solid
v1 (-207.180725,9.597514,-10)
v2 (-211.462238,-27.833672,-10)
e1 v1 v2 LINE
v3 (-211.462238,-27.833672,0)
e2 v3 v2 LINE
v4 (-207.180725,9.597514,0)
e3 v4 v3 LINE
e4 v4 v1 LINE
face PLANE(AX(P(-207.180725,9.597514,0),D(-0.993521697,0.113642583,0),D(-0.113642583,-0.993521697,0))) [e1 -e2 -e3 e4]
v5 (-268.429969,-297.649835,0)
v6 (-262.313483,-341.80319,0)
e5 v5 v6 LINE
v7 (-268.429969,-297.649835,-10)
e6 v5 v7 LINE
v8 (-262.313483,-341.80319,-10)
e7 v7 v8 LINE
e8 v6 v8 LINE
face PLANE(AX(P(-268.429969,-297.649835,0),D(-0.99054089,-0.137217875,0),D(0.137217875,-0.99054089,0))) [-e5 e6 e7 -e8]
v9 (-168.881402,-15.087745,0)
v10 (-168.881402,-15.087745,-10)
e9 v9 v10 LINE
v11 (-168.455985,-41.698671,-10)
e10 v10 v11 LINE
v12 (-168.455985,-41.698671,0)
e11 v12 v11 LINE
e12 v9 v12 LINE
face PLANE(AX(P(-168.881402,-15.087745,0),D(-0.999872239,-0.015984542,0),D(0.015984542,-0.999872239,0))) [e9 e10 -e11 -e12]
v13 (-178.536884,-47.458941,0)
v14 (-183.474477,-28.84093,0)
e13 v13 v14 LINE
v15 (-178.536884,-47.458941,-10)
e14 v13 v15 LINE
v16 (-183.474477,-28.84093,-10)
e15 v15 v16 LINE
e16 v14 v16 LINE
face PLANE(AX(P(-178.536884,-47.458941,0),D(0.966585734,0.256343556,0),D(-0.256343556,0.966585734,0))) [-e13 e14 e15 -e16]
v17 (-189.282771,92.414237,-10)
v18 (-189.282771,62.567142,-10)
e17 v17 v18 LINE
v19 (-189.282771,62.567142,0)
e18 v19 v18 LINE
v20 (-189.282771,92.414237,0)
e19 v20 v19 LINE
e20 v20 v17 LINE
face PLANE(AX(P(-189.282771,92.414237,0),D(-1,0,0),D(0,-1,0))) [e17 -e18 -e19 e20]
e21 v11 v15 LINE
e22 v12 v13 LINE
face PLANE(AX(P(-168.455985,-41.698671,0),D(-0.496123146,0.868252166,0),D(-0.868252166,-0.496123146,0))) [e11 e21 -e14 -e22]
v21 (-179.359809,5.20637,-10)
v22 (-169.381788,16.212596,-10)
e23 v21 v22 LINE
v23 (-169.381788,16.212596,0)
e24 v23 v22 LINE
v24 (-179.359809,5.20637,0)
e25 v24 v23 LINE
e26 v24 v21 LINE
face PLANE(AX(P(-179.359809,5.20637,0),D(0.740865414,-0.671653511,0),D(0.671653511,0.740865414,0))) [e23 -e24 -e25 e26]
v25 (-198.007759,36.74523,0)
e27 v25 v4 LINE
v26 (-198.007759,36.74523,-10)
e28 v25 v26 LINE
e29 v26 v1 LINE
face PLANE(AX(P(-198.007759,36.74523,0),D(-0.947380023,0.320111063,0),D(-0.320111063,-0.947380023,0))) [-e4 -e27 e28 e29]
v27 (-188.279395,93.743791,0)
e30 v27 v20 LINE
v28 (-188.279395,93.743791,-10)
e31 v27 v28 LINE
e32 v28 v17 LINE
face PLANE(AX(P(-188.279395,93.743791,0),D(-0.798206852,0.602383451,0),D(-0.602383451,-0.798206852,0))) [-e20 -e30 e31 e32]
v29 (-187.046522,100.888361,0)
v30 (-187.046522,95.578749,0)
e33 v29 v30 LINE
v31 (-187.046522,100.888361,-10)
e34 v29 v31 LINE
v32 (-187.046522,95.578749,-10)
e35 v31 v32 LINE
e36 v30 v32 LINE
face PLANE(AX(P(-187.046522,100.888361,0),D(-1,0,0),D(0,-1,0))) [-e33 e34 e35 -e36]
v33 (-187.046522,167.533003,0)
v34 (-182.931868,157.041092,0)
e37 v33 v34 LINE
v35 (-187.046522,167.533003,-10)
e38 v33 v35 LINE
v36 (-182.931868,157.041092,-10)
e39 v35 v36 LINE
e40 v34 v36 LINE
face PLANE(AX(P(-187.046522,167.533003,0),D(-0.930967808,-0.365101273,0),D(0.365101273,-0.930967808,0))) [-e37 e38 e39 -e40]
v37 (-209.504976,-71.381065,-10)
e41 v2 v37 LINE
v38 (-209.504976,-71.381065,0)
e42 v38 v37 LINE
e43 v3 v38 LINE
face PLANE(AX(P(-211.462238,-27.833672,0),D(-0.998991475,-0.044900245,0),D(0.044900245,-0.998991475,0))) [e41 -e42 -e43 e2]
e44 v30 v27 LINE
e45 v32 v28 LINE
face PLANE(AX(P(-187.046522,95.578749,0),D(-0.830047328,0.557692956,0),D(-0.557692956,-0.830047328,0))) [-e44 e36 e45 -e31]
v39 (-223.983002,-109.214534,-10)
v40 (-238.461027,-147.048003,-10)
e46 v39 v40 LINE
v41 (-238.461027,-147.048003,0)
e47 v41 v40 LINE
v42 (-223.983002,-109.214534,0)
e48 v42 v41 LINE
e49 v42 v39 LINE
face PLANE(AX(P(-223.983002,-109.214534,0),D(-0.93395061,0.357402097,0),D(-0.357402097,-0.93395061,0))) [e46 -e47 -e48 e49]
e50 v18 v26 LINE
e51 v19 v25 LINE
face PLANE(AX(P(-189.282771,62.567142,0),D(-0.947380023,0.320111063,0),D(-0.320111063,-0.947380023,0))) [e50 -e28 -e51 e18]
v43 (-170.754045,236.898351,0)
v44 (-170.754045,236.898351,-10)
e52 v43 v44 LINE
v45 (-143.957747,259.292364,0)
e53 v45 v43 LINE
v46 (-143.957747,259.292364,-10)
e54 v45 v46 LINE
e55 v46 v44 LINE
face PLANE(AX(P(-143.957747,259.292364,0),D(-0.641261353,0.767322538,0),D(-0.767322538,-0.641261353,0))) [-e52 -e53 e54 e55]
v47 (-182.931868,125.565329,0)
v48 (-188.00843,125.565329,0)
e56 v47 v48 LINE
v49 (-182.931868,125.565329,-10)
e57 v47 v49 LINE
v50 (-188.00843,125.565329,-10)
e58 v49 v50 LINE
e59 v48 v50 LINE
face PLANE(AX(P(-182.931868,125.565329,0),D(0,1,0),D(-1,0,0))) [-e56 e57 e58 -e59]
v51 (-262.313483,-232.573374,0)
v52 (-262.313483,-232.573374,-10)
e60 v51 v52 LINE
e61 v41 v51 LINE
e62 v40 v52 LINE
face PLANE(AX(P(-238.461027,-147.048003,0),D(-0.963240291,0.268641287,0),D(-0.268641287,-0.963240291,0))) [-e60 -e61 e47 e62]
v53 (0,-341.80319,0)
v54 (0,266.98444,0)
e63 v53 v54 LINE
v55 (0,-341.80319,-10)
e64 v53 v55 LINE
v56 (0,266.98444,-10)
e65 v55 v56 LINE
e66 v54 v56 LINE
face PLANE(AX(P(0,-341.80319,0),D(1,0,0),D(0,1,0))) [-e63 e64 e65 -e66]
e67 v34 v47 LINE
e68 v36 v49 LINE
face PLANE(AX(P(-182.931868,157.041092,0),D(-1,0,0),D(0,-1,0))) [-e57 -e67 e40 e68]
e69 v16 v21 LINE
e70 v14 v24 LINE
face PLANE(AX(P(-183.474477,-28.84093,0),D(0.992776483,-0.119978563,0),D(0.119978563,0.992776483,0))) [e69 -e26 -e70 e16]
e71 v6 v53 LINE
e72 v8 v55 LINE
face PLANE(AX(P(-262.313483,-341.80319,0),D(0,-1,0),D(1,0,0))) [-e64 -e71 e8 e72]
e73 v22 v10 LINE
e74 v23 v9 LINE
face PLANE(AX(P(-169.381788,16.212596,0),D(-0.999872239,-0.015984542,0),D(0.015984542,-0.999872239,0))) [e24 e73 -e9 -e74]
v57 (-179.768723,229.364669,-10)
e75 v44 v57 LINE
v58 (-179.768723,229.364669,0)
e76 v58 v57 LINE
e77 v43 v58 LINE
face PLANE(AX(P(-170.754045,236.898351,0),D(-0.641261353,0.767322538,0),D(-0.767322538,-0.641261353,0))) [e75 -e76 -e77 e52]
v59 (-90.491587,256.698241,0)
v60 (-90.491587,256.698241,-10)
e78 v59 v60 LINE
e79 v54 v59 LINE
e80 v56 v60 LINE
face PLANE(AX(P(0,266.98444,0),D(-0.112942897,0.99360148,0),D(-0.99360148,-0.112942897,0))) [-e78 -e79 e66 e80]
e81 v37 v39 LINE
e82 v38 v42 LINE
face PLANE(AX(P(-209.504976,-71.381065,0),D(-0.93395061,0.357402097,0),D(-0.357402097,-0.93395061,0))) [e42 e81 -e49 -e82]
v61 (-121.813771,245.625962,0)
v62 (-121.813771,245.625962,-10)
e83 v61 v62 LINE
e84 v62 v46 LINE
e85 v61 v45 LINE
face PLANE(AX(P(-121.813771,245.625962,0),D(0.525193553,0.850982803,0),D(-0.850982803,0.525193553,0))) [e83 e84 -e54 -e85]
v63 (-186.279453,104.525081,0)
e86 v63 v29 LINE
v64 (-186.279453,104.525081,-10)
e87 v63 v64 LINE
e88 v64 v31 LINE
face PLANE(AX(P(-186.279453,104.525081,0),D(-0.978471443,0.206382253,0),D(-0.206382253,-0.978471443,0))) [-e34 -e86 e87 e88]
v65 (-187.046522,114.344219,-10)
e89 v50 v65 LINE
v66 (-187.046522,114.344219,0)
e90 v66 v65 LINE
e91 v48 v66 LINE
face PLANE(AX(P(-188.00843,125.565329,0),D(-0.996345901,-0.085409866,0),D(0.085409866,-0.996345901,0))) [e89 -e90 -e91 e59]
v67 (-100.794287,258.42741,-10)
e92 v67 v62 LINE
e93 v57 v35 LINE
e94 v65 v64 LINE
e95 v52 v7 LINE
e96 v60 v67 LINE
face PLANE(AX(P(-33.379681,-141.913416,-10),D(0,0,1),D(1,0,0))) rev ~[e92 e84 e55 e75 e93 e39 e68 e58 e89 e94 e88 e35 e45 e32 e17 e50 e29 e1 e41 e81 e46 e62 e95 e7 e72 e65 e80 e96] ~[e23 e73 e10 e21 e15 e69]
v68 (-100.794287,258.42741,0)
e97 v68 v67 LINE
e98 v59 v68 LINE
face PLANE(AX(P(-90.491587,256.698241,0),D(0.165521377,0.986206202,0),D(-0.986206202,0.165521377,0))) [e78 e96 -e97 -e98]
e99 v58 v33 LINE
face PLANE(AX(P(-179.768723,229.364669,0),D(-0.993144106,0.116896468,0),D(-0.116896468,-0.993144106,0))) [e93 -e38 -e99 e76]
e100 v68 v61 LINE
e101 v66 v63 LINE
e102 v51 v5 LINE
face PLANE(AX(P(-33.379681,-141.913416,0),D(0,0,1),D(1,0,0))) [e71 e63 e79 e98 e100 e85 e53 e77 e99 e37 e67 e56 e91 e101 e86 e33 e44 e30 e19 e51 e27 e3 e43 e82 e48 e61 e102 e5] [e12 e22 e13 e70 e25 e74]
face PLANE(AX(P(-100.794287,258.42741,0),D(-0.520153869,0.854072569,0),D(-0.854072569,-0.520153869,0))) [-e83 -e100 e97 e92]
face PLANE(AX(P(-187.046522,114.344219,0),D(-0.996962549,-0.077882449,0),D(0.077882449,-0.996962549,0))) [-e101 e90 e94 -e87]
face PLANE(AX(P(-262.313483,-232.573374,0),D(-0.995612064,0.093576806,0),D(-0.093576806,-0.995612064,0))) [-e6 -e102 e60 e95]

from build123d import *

# Parameters (mm, degrees)
F1_DEPTH = 10


with BuildPart() as f1:
    # F0 (on Top) → F1 (new body)
    with BuildSketch(Plane.XY):
        Polygon((-9.0848000015, -110.7615454752), (-56.1383759786, -99.5413844552), (-60.5711821835, -172.3231920342), (-46.2314955784, -166.9866744318), (-31.8368203584, -161.629692804), (-12.4792818206, -185.2976312547), (-8.3274594973, -173.0151698079), align=None)
        Polygon((-46.2314955784, -166.9866744318), (-60.5711821835, -172.3231920342), (-36.5771841639, -219.3779317834), (-30.0718690254, -195.3284089729), align=None)
        Polygon((-73.3901330708, -341.8031902357), (-67.6759054309, -305.1561174487), (-117.473756471, -341.8031902357), align=None)
        Polygon((-180.8332437482, -164.6954374649), (-178.1702202991, -127.8611419204), (-191.2844337417, -85.1857664238), (-223.9830016906, -109.2145339581), (-199.4350007827, -142.6196794592), align=None)
        Polygon((-60.5711821835, -172.3231920342), (-56.1383759786, -99.5413844552), (-76.2307639896, -111.0958880131), align=None)
        with BuildLine():
            Line((0, -56.0086877966), (0, 0))
            Line((0, 0), (0, 183.04142414))
            ThreePointArc((0, 183.04142414), (-12.1429681008, 182.0306137788), (-24.2587123077, 180.7336349065))
            ThreePointArc((-24.2587123077, 180.7336349065), (-43.8384967055, 178.022818891), (-63.3002183714, 174.5648035161))
            Line((-63.3002183714, 174.5648035161), (-90.1476441557, 159.7151652456))
            Line((-90.1476441557, 159.7151652456), (-110.0777075737, 125.0936001484))
            Line((-110.0777075737, 125.0936001484), (-117.5709400449, 112.443005226))
            Line((-117.5709400449, 112.443005226), (-121.5424738016, 81.778090181))
            Line((-121.5424738016, 81.778090181), (-120.5897784893, 63.4272970351))
            Line((-120.5897784893, 63.4272970351), (-118.2717298581, 18.7771025967))
            Line((-118.2717298581, 18.7771025967), (-91.0548188771, -12.1895038479))
            Line((-91.0548188771, -12.1895038479), (-67.1898289679, -36.0534735031))
            Line((-67.1898289679, -36.0534735031), (-44.5592410741, -45.3110454311))
            Line((-44.5592410741, -45.3110454311), (0, -56.0086877966))
        make_face()
        Polygon((-219.0594424787, -207.1807143872), (-180.8332437482, -164.6954374649), (-199.4350007827, -142.6196794592), (-244.2064624437, -167.6488361397), (-244.2064624437, -235.1295594847), (-244.1253321165, -235.0393897966), align=None)
        Polygon((-69.332321625, -272.619905615), (-51.1947474372, -233.2889083715), (-91.4025763749, -247.6959746369), (-105.8642157468, -277.2303671094), (-110.9766685206, -287.2999995754), align=None)
        Polygon((-178.5368838703, -47.4589412792), (-191.2844337417, -85.1857664238), (-103.998360561, -43.181896403), (-115.1686413361, -25.682248799), (-121.2751949675, -16.1155656711), (-132.4912150412, -15.850094913), (-168.4559845523, -41.6986706085), align=None)
        Polygon((-115.2799656319, -272.619905615), (-104.626763126, -238.5452330401), (-164.9988434448, -237.3814824562), (-186.9655664085, -307.6428796384), (-147.3245982234, -288.275746156), align=None)
        Polygon((-147.3245982234, -288.275746156), (-186.9655664085, -307.6428796384), (-225.461235686, -326.9737341095), (-203.2383822965, -341.8031902357), align=None)
        Polygon((-100.8472110518, -292.6593101859), (-110.9766685206, -287.2999995754), (-138.6484816888, -341.8031902357), (-117.473756471, -341.8031902357), align=None)
        Polygon((-112.8765014321, -132.1697047954), (-103.998360561, -83.2290777974), (-178.1702202991, -127.8611419204), (-132.6259808253, -176.1945950219), align=None)
        Polygon((-178.1702202991, -127.8611419204), (-103.998360561, -83.2290777974), (-191.2844337417, -85.1857664238), align=None)
        Polygon((-90.8448589252, -184.2596719807), (-112.8765014321, -132.1697047954), (-132.6259808253, -176.1945950219), (-108.3129286229, -207.0093147384), align=None)
        Polygon((-26.3059871691, 236.8900387434), (0, 200.9310461479), (0, 266.9844396385), (-90.4915869948, 256.698241221), (-90.4915869948, 236.9089266819), (-67.691279032, 236.9089266819), (-52.4303249207, 253.3576469712), (-44.5592410741, 261.8413404297), align=None)
        Polygon((-145.4554682746, 109.5463630128), (-126.266214477, 156.0594467116), (-155.6719385674, 161.4210224536), align=None)
        Polygon((-225.461235686, -326.9737341095), (-186.9655664085, -307.6428796384), (-222.7215119105, -236.4381093161), (-268.4299686655, -297.649834803), align=None)
        Polygon((-138.6484816888, -341.8031902357), (-147.3245982234, -288.275746156), (-203.2383822965, -341.8031902357), align=None)
        Polygon((-223.9830016906, -109.2145339581), (-191.2844337417, -85.1857664238), (-178.5368838703, -47.4589412792), (-209.5049759154, -71.3810654092), align=None)
        Polygon((-132.6259808253, -176.1945950219), (-178.1702202991, -127.8611419204), (-180.8332437482, -164.6954374649), (-219.0594424787, -207.1807143872), (-162.4549610771, -232.5733737044), align=None)
        Polygon((-168.8814023684, -15.0877447128), (-168.4559845523, -41.6986706085), (-132.4912150412, -15.850094913), (-160.5595044997, 3.8948894653), align=None)
        Polygon((-126.266214477, 156.0594467116), (-91.0839805971, 200.9310461479), (-91.0839805971, 211.6955617738), (-118.1022370987, 214.7468585147), (-119.6827789183, 201.3186872483), (-122.9745003909, 180.9520327), (-160.6235661183, 180.9520327), (-164.1089604542, 184.0228917319), (-183.1327547534, 171.6665067373), (-182.9318682558, 157.0410916611), (-182.9318682558, 125.5653286399), (-167.9374396819, 116.997453287), (-161.000895729, 122.7428464239), (-145.4554682746, 109.5463630128), (-155.6719385674, 161.4210224536), align=None)
        Polygon((-128.2701594184, 162.3996241842), (-155.6719385674, 161.4210224536), (-153.9593301405, 177.0785171865), (-128.2701594184, 176.0999302288), align=None, mode=Mode.SUBTRACT)
        Polygon((-103.998360561, -83.2290777974), (-73.3901330708, -63.691398935), (-90.9000652816, -41.7426421686), (-103.998360561, -43.181896403), align=None)
        Polygon((-108.3129286229, -207.0093147384), (-132.6259808253, -176.1945950219), (-162.4549610771, -232.5733737044), align=None)
        Polygon((-76.2307639896, -111.0958880131), (-56.1383759786, -99.5413844552), (-103.998360561, -83.2290777974), (-112.8765014321, -132.1697047954), align=None)
        Polygon((-36.7759240923, -253.3689891762), (-51.1947474372, -233.2889083715), (-69.332321625, -272.619905615), align=None)
        Polygon((-91.0839805971, 200.9310461479), (-26.3059871691, 236.8900387434), (-44.5592410741, 261.8413404297), (-52.4303249207, 253.3576469712), align=None)
        Polygon((-75.1025455423, -161.4246713618), (-76.2307639896, -111.0958880131), (-112.8765014321, -132.1697047954), (-90.8448589252, -184.2596719807), align=None)
        Polygon((-199.4350007827, -142.6196794592), (-223.9830016906, -109.2145339581), (-238.4610274657, -147.048002507), (-244.2064624437, -167.6488361397), align=None)
        Polygon((-191.2844337417, -85.1857664238), (-103.998360561, -83.2290777974), (-103.998360561, -43.181896403), align=None)
        Polygon((-103.998360561, -83.2290777974), (-56.1383759786, -99.5413844552), (-73.3901330708, -63.691398935), align=None)
        Polygon((-90.1476441557, 159.7151652456), (-63.3002183714, 174.5648035161), (-91.0839805971, 200.9310461479), align=None)
        Polygon((-67.6759054309, -305.1561174487), (-100.8472110518, -292.6593101859), (-117.473756471, -341.8031902357), align=None)
        Polygon((-104.626763126, -238.5452330401), (-108.3129286229, -207.0093147384), (-162.4549610771, -232.5733737044), (-164.9988434448, -237.3814824562), align=None)
        Polygon((-91.0839805971, 200.9310461479), (-45.5419902985, 200.9310461479), (-26.3059871691, 236.8900387434), align=None)
        Polygon((-45.5419902985, 200.9310461479), (0, 200.9310461479), (-26.3059871691, 236.8900387434), align=None)
        Polygon((-105.8642157468, -277.2303671094), (-115.2799656319, -272.619905615), (-147.3245982234, -288.275746156), (-138.6484816888, -341.8031902357), (-110.9766685206, -287.2999995754), align=None)
        Polygon((-90.1476441557, 159.7151652456), (-91.0839805971, 200.9310461479), (-126.266214477, 156.0594467116), (-126.266214477, 98.2510494237), (-117.5709400449, 112.443005226), (-110.0777075737, 125.0936001484), align=None)
        Polygon((0, -280.3467120072), (-14.2974299663, -277.1022620157), (0, -326.679632709), align=None)
        Polygon((-51.1947474372, -233.2889083715), (-65.5583828964, -207.9411011242), (-91.4025763749, -247.6959746369), align=None)
        Polygon((-118.1022370987, 214.7468585147), (-91.0839805971, 211.6955617738), (-121.5343782481, 235.0574086031), (-136.7585983685, 233.4549272522), (-160.6235661183, 230.9429321907), (-160.6235661183, 200.7840914456), (-160.6235661183, 180.9520327), (-119.6827789183, 201.3186872483), align=None)
        Polygon((-162.4549610771, -232.5733737044), (-219.0594424787, -207.1807143872), (-244.1253321165, -235.0393897966), (-244.1278405297, -235.134347985), (-222.7215119105, -236.4381093161), (-164.9988434448, -237.3814824562), align=None)
        Polygon((-63.3002183714, 174.5648035161), (-45.5419902985, 200.9310461479), (-91.0839805971, 200.9310461479), align=None)
        Polygon((-56.1383759786, -99.5413844552), (-35.3859818241, -65.0423578409), (-73.3901330708, -63.691398935), align=None)
        Polygon((-186.9655664085, -307.6428796384), (-164.9988434448, -237.3814824562), (-222.7215119105, -236.4381093161), align=None)
        Polygon((-244.2064624437, -235.1295594847), (-262.3134825626, -232.5733737044), (-268.4299686655, -297.649834803), (-222.7215119105, -236.4381093161), (-244.1278405297, -235.134347985), align=None)
        Polygon((0, -175.0910735831), (0, -112.3517529746), (-9.0848000015, -110.7615454752), (-8.3274594973, -173.0151698079), (-12.4792818206, -185.2976312547), align=None)
        Polygon((-160.6235661183, 200.7840914456), (-160.6235661183, 230.9429321907), (-183.1327547534, 200.7840914456), align=None)
        with BuildLine():
            ThreePointArc((-24.2587123077, 180.7336349065), (-12.1429681008, 182.0306137788), (0, 183.04142414))
            Line((0, 183.04142414), (0, 200.9310461479))
            Line((0, 200.9310461479), (-45.5419902985, 200.9310461479))
            Line((-45.5419902985, 200.9310461479), (-24.2587123077, 180.7336349065))
        make_face()
        Polygon((-207.1807247874, 9.597514079), (-211.4622384682, -27.8336724946), (-193.2377589594, -10.3311773052), align=None)
        Polygon((-100.8472110518, -224.9932698232), (-73.3901330708, -194.120248152), (-108.3129286229, -207.0093147384), (-104.626763126, -238.5452330401), align=None)
        Polygon((-179.3598086986, 5.2063697262), (-198.0077592053, 36.745230469), (-207.1807247874, 9.597514079), align=None)
        Polygon((-126.266214477, 98.2510494237), (-126.266214477, 156.0594467116), (-145.4554682746, 109.5463630128), align=None)
        Polygon((-124.6032858295, 18.9269635057), (-118.2717298581, 18.7771025967), (-120.5897784893, 63.4272970351), (-146.9668106058, 19.456283339), (-134.5117213963, 19.1614851884), align=None)
        Polygon((-36.7759240923, -253.3689891762), (-69.332321625, -272.619905615), (-35.9529918776, -275.1757215485), align=None)
        Polygon((-244.2064624437, -235.1295594847), (-244.2064624437, -167.6488361397), (-262.3134825626, -232.5733737044), align=None)
        Polygon((-36.5771841639, -219.3779317834), (-60.5711821835, -172.3231920342), (-73.3901330708, -194.120248152), (-65.5583828964, -207.9411011242), (-51.1947474372, -233.2889083715), align=None)
        Polygon((-211.4622384682, -27.8336724947), (-209.5049759154, -71.3810654092), (-192.8467724969, -44.7100751986), align=None)
        Polygon((-60.5711821835, -172.3231920342), (-76.2307639896, -111.0958880131), (-75.1025455423, -161.4246713618), (-73.3901330708, -194.1202481519), align=None)
        Polygon((0, -64.2491116145), (0, -56.0086877966), (-44.5592410741, -45.3110454311), (-67.1898289679, -36.0534735031), (-91.0548188771, -12.1895038479), (-118.2717298581, 18.7771025967), (-111.8023189882, 0), (-96.2303815507, -17.188950378), (-70.8576630889, -40.1913407085), (-73.3901330708, -63.691398935), (-35.3859818241, -65.0423578409), align=None)
        Polygon((0, -98.5291272535), (0, -64.2491116145), (-35.3859818241, -65.0423578409), (-56.1383759786, -99.5413844552), (-35.3859818241, -88.8284441579), (-18.8707314396, -80.302830677), align=None)
        Polygon((-225.461235686, -326.9737341095), (-268.4299686655, -297.649834803), (-262.3134825626, -341.8031902357), (-203.2383822965, -341.8031902357), align=None)
        Polygon((-65.5583828964, -207.9411011242), (-73.3901330708, -194.1202481519), (-91.4025763749, -240.6699612755), (-91.4025763749, -247.6959746369), align=None)
        Polygon((-122.9745003909, 180.9520327), (-119.6827789183, 201.3186872483), (-160.6235661183, 180.9520327), align=None)
        Polygon((-91.4025763749, -247.6959746369), (-104.626763126, -238.5452330401), (-115.2799656319, -272.619905615), (-105.8642157468, -277.2303671094), align=None)
        with BuildLine():
            ThreePointArc((-63.3002183714, 174.5648035161), (-43.8384967055, 178.022818891), (-24.2587123077, 180.7336349065))
            Line((-24.2587123077, 180.7336349065), (-45.5419902985, 200.9310461479))
            Line((-45.5419902985, 200.9310461479), (-63.3002183714, 174.5648035161))
        make_face()
        Polygon((-136.7585983685, 233.4549272522), (-136.7585983685, 246.1665023031), (-160.6235661183, 230.9429321907), align=None)
        Polygon((0, -220.3067341793), (-18.4286041621, -221.2719219721), (0, -235.2843056938), align=None)
        Polygon((-135.0558286982, 7.3890497706), (-146.9668106058, 19.456283339), (-142.3466871056, 43.4612742486), (-155.6265254516, 66.9658715101), (-167.9374396819, 61.5911086505), (-158.4689818362, 43.2722844393), (-189.2827708595, 62.5671423682), (-176.4572573224, 37.8640410816), (-198.0077592053, 36.745230469), (-179.3598086986, 5.2063697262), (-169.3817879105, 16.2125959761), (-167.0568583851, 18.7771025967), (-154.9811573992, 34.7985962376), (-151.1675312539, 27.6595571569), (-160.5595044997, 3.8948894653), align=None)
        Polygon((-176.4572573224, 37.8640410816), (-189.2827708595, 62.5671423682), (-198.0077592053, 36.745230469), align=None)
        Polygon((-146.9668106058, 19.456283339), (-120.5897784893, 63.4272970351), (-137.0578679345, 74.8583050578), (-141.2991845332, 50.7912143836), (-149.4696070974, 83.0550824895), (-149.4696070974, 69.6538908952), (-155.6265254516, 66.9658715101), (-142.3466871056, 43.4612742486), align=None)
        Polygon((-91.0839805971, 211.6955617738), (-91.0839805971, 200.9310461479), (-52.4303249207, 253.3576469712), (-67.691279032, 236.9089266819), align=None)
        Polygon((-67.691279032, 236.9089266819), (-90.4915869948, 236.9089266819), (-121.5343782481, 235.0574086031), (-91.0839805971, 211.6955617738), align=None)
        Polygon((-35.9529918776, -275.1757215485), (-69.332321625, -272.619905615), (-53.285172983, -289.1620015421), align=None)
        Polygon((-91.4025763749, -240.6699612755), (-73.3901330708, -194.120248152), (-100.8472110518, -224.9932698232), align=None)
        Polygon((-90.4915869948, 236.9089266819), (-90.4915869948, 256.698241221), (-100.7942867503, 258.4274100775), (-121.5343782481, 235.0574086031), align=None)
        Polygon((-31.8368203584, -161.629692804), (-46.2314955784, -166.9866744318), (-30.0718690254, -195.3284089729), align=None)
        Polygon((-160.6235661183, 230.9429321907), (-170.7540452849, 236.898350978), (-179.7687227862, 229.3646685872), (-183.1327547534, 200.7840914456), align=None)
        Polygon((-60.5942279197, -318.6514141551), (-73.3901330708, -341.8031902357), (-43.9733349894, -331.044023416), (-25.8534417635, -324.4166891483), align=None)
        Polygon((-137.0578679345, 74.8583050578), (-120.5897784893, 63.4272970351), (-121.5424738016, 81.778090181), align=None)
        Polygon((0, -209.1648444865), (0, -189.5159844786), (-12.4792818206, -185.2976312547), (-30.0718690254, -195.3284089729), align=None)
        Polygon((-43.9733349894, -331.044023416), (-73.3901330708, -341.8031902357), (-49.683611929, -341.8031902357), align=None)
        Polygon((-43.9733349894, -331.044023416), (-49.683611929, -341.8031902357), (-29.3898579874, -341.8031902357), align=None)
        Polygon((-53.285172983, -289.1620015421), (-69.332321625, -272.619905615), (-110.9766685206, -287.2999995754), (-100.8472110518, -292.6593101859), (-67.6759054309, -305.1561174487), align=None)
        Polygon((-121.5343782481, 235.0574086031), (-100.7942867503, 258.4274100775), (-121.8137708667, 245.6259616072), (-143.9577465644, 259.2923638284), (-160.6235661183, 230.9429321907), (-136.7585983685, 246.1665023031), align=None)
        Polygon((-36.8817018053, -288.0530584461), (-67.6759054309, -305.1561174487), (-46.4845498273, -313.8022958113), (-19.5109283249, -305.1561174487), (-24.1628781348, -300.2854692814), align=None)
        Polygon((-209.5049759154, -71.3810654092), (-178.5368838703, -47.4589412792), (-183.4744771589, -28.8409299731), (-179.3598086986, 5.2063697262), (-207.1807247874, 9.597514079), (-193.2377589594, -10.3311773052), (-211.4622384682, -27.8336724947), (-192.8467724969, -44.7100751986), align=None)
        Polygon((0, -112.3517529746), (0, -98.5291272535), (-56.1383759786, -99.5413844552), (-9.0848000015, -110.7615454752), align=None)
        Polygon((-90.9000652816, -41.7426421686), (-73.3901330708, -63.691398935), (-70.8576630889, -40.1913407085), (-97.6143223252, -32.7582730108), align=None)
        Polygon((0, -327.5633480528), (-29.3898579874, -341.8031902357), (0, -341.8031902357), align=None)
        Polygon((-159.0845608403, 76.6309867017), (-167.9374396819, 83.0550824895), (-189.2827708595, 62.5671423682), (-167.9374396819, 61.5911086505), align=None)
        Polygon((-73.3901330708, -194.1202481519), (-75.1025455423, -161.4246713618), (-90.8448589252, -184.2596719807), align=None)
        Polygon((0, -235.2843056938), (-11.3356103883, -244.4529040914), (-5.7283935779, -254.3480766129), (0, -260.3674351424), align=None)
        Polygon((-30.0718690254, -195.3284089729), (-12.4792818206, -185.2976312547), (-31.8368203584, -161.629692804), align=None)
        Polygon((-132.4912150412, -15.850094913), (-121.2751949674, -16.1155656711), (-135.0558286982, 7.3890497706), (-160.5595044997, 3.8948894653), align=None)
        Polygon((0, -220.3067341793), (0, -209.1648444865), (-18.4286041621, -221.2719219721), align=None)
        Polygon((-19.5109283249, -305.1561174487), (-46.4845498273, -313.8022958113), (-60.5942279197, -318.6514141551), (-25.8534417635, -324.4166891483), align=None)
        Polygon((-141.2991845332, 50.7912143836), (-137.0578679345, 74.8583050578), (-149.4696070974, 83.0550824895), align=None)
        Polygon((-189.2827708595, 62.5671423682), (-167.9374396819, 83.0550824895), (-167.9374396819, 116.997453287), (-182.9318682558, 125.5653286399), (-188.0084302879, 125.5653286399), (-187.0465219432, 114.3442193666), (-186.2794534792, 104.5250812017), (-187.0465219432, 100.8883606271), (-187.0465219432, 95.5787485882), (-188.2793949626, 93.743790939), (-189.2827708595, 92.4142366246), align=None)
        Polygon((-97.6143223252, -32.7582730108), (-70.8576630889, -40.1913407085), (-96.2303815507, -17.188950378), align=None)
        Polygon((-108.3129286229, -207.0093147384), (-73.3901330708, -194.120248152), (-90.8448589252, -184.2596719807), align=None)
        Polygon((-164.1089604542, 184.0228917319), (-160.6235661183, 180.9520327), (-160.6235661183, 200.7840914456), (-183.1327547534, 200.7840914456), align=None)
        Polygon((-46.4845498273, -313.8022958113), (-67.6759054309, -305.1561174487), (-73.3901330708, -341.8031902357), (-60.5942279197, -318.6514141551), align=None)
        Polygon((-25.8534417635, -324.4166891483), (-43.9733349894, -331.044023416), (-29.3898579874, -341.8031902357), (0, -327.5633480528), align=None)
        Polygon((-18.7484080699, -96.4496188887), (-35.3859818241, -88.8284441579), (-37.9532989904, -97.7951796488), align=None)
        Polygon((-56.1383759786, -99.5413844552), (0, -98.5291272535), (-18.8707314396, -80.3028306771), (-18.7484080699, -96.4496188887), (-37.9532989904, -97.7951796488), (-35.3859818241, -88.8284441579), align=None)
        Polygon((-153.9593301405, 177.0785171865), (-128.2701594184, 162.3996241842), (-128.2701594184, 176.0999302288), align=None)
        Polygon((0, -326.679632709), (-19.5109283249, -305.1561174487), (-25.8534417635, -324.4166891483), (0, -327.5633480528), align=None)
        Polygon((-164.1089604542, 184.0228917319), (-183.1327547534, 200.7840914456), (-187.0465219432, 167.5330028196), (-182.9318682558, 157.0410916611), (-183.1327547534, 171.6665067373), align=None)
        Polygon((-18.7484080699, -96.4496188887), (-18.8707314396, -80.3028306771), (-35.3859818241, -88.8284441579), align=None)
        Polygon((-117.5709400449, 112.443005226), (-126.266214477, 98.2510494237), (-167.9374396819, 83.0550824895), (-149.4696070974, 83.0550824895), (-121.5424738016, 81.778090181), align=None)
        Polygon((0, -260.3674351424), (-5.7283935779, -254.3480766129), (-9.8672773941, -258.1383321793), (0, -276.1014805879), align=None)
        Polygon((-169.3817879105, 16.2125959761), (-168.8814023684, -15.0877447128), (-160.5595044997, 3.8948894653), (-167.0568583851, 18.7771025967), align=None)
        Polygon((-153.9593301405, 177.0785171865), (-155.6719385674, 161.4210224536), (-128.2701594184, 162.3996241842), align=None)
        Polygon((-160.6235661183, 230.9429321907), (-143.9577465644, 259.2923638284), (-170.7540452849, 236.898350978), align=None)
        Polygon((0, -189.5159844786), (0, -175.0910735831), (-12.4792818206, -185.2976312547), align=None)
        Polygon((-118.2717298581, -7.8270727527), (-124.6032858295, 18.9269635057), (-134.5117213963, 19.1614851884), align=None)
        Polygon((-149.4696070974, 69.6538908952), (-159.0845608403, 76.6309867017), (-167.9374396819, 61.5911086505), (-155.6265254516, 66.9658715101), align=None)
        Polygon((-30.0718690254, -195.3284089729), (-36.5771841639, -219.3779317834), (-24.4849719167, -209.1648444865), (-19.0627055457, -209.1648444865), (0, -209.1648444865), align=None)
        Polygon((-109.0602074297, -18.9443588874), (-97.6143223252, -32.7582730108), (-96.2303815507, -17.188950378), (-111.8023189882, 0), (-118.2717298581, -7.8270727527), align=None)
        Polygon((-18.4286041621, -221.2719219721), (-36.5771841639, -219.3779317834), (-51.1947474372, -233.2889083715), (-26.1998137088, -247.409121429), (-11.3356103883, -244.4529040914), align=None)
        Polygon((-36.8817018053, -288.0530584461), (-53.285172983, -289.1620015421), (-67.6759054309, -305.1561174487), align=None)
        Polygon((-167.9374396819, 83.0550824895), (-126.266214477, 98.2510494237), (-145.4554682746, 109.5463630128), (-158.3862830984, 94.844402115), (-161.000895729, 122.7428464239), (-167.9374396819, 116.997453287), align=None)
        Polygon((-14.2974299663, -277.1022620157), (-24.1628781348, -300.2854692814), (-19.5109283249, -305.1561174487), (0, -326.679632709), align=None)
        Polygon((-111.8023189882, 0), (-118.2717298581, 18.7771025967), (-124.6032858295, 18.9269635057), (-118.2717298581, -7.8270727527), align=None)
        Polygon((-167.9374396819, 61.5911086505), (-189.2827708595, 62.5671423682), (-158.4689818362, 43.2722844393), align=None)
        Polygon((-158.3862830984, 94.844402115), (-145.4554682746, 109.5463630128), (-161.000895729, 122.7428464239), align=None)
        Polygon((-11.3356103883, -244.4529040914), (-26.1998137087, -247.409121429), (-16.6522514634, -264.3517913815), (-9.8672773941, -258.1383321793), (-5.7283935779, -254.3480766129), align=None)
        Polygon((-26.1998137088, -247.409121429), (-51.1947474372, -233.2889083715), (-36.7759240923, -253.3689891762), align=None)
        Polygon((-134.5117213963, 19.1614851884), (-146.9668106058, 19.456283339), (-135.0558286982, 7.3890497706), (-118.2717298581, -7.8270727527), align=None)
        Polygon((0, -235.2843056938), (-18.4286041621, -221.2719219721), (-11.3356103883, -244.4529040914), align=None)
        Polygon((-136.7585983685, 233.4549272522), (-121.5343782481, 235.0574086031), (-136.7585983685, 246.1665023031), align=None)
        Polygon((-154.9811573992, 34.7985962376), (-167.0568583851, 18.7771025967), (-151.1675312539, 27.6595571569), align=None)
        Polygon((-137.0578679345, 74.8583050578), (-121.5424738016, 81.778090181), (-149.4696070974, 83.0550824895), align=None)
        Polygon((-91.4025763749, -240.6699612755), (-100.8472110518, -224.9932698232), (-104.626763126, -238.5452330401), (-91.4025763749, -247.6959746369), align=None)
        Polygon((-16.6522514634, -264.3517913815), (-36.7759240923, -253.3689891762), (-35.9529918776, -275.1757215485), align=None)
        Polygon((-103.998360561, -43.181896403), (-90.9000652816, -41.7426421686), (-97.6143223252, -32.7582730108), (-109.0602074297, -18.9443588874), (-115.1686413361, -25.682248799), align=None)
        Polygon((-35.9529918776, -275.1757215485), (-53.285172983, -289.1620015421), (-36.8817018053, -288.0530584461), (-24.1628781348, -277.5901735663), (-21.564985234, -275.453069141), align=None)
        Polygon((-9.8672773941, -258.1383321793), (-16.6522514634, -264.3517913815), (0, -278.6730301923), (0, -276.1014805879), align=None)
        Polygon((-18.4286041621, -221.2719219721), (0, -209.1648444865), (-19.0627055457, -209.1648444865), align=None)
        Polygon((-16.6522514634, -264.3517913815), (-26.1998137088, -247.409121429), (-36.7759240923, -253.3689891762), align=None)
        Polygon((0, -278.6730301923), (-16.6522514634, -264.3517913815), (-21.564985234, -275.453069141), (-14.2974299663, -277.1022620157), (0, -280.3467120072), align=None)
        Polygon((-121.2751949675, -16.1155656711), (-115.1686413361, -25.682248799), (-109.0602074297, -18.9443588874), (-118.2717298581, -7.8270727527), (-135.0558286982, 7.3890497706), align=None)
        Polygon((-167.0568583851, 18.7771025967), (-160.5595044997, 3.8948894653), (-151.1675312539, 27.6595571569), align=None)
        Polygon((-24.4849719167, -209.1648444865), (-36.5771841639, -219.3779317834), (-18.4286041621, -221.2719219721), (-19.0627055457, -209.1648444865), align=None)
        Polygon((-149.4696070974, 83.0550824895), (-167.9374396819, 83.0550824895), (-159.0845608403, 76.6309867017), (-149.4696070974, 69.6538908952), align=None)
        Polygon((-16.6522514634, -264.3517913815), (-35.9529918776, -275.1757215485), (-21.564985234, -275.453069141), align=None)
        Polygon((-14.2974299663, -277.1022620157), (-21.564985234, -275.453069141), (-24.1628781348, -277.5901735663), (-24.1628781348, -300.2854692814), align=None)
        Polygon((-244.1278405297, -235.134347985), (-244.1253321165, -235.0393897966), (-244.2064624437, -235.1295594847), align=None)
        Polygon((-24.1628781348, -277.5901735663), (-36.8817018053, -288.0530584461), (-24.1628781348, -300.2854692814), align=None)
    extrude(amount=-F1_DEPTH)


solid = f1.part
